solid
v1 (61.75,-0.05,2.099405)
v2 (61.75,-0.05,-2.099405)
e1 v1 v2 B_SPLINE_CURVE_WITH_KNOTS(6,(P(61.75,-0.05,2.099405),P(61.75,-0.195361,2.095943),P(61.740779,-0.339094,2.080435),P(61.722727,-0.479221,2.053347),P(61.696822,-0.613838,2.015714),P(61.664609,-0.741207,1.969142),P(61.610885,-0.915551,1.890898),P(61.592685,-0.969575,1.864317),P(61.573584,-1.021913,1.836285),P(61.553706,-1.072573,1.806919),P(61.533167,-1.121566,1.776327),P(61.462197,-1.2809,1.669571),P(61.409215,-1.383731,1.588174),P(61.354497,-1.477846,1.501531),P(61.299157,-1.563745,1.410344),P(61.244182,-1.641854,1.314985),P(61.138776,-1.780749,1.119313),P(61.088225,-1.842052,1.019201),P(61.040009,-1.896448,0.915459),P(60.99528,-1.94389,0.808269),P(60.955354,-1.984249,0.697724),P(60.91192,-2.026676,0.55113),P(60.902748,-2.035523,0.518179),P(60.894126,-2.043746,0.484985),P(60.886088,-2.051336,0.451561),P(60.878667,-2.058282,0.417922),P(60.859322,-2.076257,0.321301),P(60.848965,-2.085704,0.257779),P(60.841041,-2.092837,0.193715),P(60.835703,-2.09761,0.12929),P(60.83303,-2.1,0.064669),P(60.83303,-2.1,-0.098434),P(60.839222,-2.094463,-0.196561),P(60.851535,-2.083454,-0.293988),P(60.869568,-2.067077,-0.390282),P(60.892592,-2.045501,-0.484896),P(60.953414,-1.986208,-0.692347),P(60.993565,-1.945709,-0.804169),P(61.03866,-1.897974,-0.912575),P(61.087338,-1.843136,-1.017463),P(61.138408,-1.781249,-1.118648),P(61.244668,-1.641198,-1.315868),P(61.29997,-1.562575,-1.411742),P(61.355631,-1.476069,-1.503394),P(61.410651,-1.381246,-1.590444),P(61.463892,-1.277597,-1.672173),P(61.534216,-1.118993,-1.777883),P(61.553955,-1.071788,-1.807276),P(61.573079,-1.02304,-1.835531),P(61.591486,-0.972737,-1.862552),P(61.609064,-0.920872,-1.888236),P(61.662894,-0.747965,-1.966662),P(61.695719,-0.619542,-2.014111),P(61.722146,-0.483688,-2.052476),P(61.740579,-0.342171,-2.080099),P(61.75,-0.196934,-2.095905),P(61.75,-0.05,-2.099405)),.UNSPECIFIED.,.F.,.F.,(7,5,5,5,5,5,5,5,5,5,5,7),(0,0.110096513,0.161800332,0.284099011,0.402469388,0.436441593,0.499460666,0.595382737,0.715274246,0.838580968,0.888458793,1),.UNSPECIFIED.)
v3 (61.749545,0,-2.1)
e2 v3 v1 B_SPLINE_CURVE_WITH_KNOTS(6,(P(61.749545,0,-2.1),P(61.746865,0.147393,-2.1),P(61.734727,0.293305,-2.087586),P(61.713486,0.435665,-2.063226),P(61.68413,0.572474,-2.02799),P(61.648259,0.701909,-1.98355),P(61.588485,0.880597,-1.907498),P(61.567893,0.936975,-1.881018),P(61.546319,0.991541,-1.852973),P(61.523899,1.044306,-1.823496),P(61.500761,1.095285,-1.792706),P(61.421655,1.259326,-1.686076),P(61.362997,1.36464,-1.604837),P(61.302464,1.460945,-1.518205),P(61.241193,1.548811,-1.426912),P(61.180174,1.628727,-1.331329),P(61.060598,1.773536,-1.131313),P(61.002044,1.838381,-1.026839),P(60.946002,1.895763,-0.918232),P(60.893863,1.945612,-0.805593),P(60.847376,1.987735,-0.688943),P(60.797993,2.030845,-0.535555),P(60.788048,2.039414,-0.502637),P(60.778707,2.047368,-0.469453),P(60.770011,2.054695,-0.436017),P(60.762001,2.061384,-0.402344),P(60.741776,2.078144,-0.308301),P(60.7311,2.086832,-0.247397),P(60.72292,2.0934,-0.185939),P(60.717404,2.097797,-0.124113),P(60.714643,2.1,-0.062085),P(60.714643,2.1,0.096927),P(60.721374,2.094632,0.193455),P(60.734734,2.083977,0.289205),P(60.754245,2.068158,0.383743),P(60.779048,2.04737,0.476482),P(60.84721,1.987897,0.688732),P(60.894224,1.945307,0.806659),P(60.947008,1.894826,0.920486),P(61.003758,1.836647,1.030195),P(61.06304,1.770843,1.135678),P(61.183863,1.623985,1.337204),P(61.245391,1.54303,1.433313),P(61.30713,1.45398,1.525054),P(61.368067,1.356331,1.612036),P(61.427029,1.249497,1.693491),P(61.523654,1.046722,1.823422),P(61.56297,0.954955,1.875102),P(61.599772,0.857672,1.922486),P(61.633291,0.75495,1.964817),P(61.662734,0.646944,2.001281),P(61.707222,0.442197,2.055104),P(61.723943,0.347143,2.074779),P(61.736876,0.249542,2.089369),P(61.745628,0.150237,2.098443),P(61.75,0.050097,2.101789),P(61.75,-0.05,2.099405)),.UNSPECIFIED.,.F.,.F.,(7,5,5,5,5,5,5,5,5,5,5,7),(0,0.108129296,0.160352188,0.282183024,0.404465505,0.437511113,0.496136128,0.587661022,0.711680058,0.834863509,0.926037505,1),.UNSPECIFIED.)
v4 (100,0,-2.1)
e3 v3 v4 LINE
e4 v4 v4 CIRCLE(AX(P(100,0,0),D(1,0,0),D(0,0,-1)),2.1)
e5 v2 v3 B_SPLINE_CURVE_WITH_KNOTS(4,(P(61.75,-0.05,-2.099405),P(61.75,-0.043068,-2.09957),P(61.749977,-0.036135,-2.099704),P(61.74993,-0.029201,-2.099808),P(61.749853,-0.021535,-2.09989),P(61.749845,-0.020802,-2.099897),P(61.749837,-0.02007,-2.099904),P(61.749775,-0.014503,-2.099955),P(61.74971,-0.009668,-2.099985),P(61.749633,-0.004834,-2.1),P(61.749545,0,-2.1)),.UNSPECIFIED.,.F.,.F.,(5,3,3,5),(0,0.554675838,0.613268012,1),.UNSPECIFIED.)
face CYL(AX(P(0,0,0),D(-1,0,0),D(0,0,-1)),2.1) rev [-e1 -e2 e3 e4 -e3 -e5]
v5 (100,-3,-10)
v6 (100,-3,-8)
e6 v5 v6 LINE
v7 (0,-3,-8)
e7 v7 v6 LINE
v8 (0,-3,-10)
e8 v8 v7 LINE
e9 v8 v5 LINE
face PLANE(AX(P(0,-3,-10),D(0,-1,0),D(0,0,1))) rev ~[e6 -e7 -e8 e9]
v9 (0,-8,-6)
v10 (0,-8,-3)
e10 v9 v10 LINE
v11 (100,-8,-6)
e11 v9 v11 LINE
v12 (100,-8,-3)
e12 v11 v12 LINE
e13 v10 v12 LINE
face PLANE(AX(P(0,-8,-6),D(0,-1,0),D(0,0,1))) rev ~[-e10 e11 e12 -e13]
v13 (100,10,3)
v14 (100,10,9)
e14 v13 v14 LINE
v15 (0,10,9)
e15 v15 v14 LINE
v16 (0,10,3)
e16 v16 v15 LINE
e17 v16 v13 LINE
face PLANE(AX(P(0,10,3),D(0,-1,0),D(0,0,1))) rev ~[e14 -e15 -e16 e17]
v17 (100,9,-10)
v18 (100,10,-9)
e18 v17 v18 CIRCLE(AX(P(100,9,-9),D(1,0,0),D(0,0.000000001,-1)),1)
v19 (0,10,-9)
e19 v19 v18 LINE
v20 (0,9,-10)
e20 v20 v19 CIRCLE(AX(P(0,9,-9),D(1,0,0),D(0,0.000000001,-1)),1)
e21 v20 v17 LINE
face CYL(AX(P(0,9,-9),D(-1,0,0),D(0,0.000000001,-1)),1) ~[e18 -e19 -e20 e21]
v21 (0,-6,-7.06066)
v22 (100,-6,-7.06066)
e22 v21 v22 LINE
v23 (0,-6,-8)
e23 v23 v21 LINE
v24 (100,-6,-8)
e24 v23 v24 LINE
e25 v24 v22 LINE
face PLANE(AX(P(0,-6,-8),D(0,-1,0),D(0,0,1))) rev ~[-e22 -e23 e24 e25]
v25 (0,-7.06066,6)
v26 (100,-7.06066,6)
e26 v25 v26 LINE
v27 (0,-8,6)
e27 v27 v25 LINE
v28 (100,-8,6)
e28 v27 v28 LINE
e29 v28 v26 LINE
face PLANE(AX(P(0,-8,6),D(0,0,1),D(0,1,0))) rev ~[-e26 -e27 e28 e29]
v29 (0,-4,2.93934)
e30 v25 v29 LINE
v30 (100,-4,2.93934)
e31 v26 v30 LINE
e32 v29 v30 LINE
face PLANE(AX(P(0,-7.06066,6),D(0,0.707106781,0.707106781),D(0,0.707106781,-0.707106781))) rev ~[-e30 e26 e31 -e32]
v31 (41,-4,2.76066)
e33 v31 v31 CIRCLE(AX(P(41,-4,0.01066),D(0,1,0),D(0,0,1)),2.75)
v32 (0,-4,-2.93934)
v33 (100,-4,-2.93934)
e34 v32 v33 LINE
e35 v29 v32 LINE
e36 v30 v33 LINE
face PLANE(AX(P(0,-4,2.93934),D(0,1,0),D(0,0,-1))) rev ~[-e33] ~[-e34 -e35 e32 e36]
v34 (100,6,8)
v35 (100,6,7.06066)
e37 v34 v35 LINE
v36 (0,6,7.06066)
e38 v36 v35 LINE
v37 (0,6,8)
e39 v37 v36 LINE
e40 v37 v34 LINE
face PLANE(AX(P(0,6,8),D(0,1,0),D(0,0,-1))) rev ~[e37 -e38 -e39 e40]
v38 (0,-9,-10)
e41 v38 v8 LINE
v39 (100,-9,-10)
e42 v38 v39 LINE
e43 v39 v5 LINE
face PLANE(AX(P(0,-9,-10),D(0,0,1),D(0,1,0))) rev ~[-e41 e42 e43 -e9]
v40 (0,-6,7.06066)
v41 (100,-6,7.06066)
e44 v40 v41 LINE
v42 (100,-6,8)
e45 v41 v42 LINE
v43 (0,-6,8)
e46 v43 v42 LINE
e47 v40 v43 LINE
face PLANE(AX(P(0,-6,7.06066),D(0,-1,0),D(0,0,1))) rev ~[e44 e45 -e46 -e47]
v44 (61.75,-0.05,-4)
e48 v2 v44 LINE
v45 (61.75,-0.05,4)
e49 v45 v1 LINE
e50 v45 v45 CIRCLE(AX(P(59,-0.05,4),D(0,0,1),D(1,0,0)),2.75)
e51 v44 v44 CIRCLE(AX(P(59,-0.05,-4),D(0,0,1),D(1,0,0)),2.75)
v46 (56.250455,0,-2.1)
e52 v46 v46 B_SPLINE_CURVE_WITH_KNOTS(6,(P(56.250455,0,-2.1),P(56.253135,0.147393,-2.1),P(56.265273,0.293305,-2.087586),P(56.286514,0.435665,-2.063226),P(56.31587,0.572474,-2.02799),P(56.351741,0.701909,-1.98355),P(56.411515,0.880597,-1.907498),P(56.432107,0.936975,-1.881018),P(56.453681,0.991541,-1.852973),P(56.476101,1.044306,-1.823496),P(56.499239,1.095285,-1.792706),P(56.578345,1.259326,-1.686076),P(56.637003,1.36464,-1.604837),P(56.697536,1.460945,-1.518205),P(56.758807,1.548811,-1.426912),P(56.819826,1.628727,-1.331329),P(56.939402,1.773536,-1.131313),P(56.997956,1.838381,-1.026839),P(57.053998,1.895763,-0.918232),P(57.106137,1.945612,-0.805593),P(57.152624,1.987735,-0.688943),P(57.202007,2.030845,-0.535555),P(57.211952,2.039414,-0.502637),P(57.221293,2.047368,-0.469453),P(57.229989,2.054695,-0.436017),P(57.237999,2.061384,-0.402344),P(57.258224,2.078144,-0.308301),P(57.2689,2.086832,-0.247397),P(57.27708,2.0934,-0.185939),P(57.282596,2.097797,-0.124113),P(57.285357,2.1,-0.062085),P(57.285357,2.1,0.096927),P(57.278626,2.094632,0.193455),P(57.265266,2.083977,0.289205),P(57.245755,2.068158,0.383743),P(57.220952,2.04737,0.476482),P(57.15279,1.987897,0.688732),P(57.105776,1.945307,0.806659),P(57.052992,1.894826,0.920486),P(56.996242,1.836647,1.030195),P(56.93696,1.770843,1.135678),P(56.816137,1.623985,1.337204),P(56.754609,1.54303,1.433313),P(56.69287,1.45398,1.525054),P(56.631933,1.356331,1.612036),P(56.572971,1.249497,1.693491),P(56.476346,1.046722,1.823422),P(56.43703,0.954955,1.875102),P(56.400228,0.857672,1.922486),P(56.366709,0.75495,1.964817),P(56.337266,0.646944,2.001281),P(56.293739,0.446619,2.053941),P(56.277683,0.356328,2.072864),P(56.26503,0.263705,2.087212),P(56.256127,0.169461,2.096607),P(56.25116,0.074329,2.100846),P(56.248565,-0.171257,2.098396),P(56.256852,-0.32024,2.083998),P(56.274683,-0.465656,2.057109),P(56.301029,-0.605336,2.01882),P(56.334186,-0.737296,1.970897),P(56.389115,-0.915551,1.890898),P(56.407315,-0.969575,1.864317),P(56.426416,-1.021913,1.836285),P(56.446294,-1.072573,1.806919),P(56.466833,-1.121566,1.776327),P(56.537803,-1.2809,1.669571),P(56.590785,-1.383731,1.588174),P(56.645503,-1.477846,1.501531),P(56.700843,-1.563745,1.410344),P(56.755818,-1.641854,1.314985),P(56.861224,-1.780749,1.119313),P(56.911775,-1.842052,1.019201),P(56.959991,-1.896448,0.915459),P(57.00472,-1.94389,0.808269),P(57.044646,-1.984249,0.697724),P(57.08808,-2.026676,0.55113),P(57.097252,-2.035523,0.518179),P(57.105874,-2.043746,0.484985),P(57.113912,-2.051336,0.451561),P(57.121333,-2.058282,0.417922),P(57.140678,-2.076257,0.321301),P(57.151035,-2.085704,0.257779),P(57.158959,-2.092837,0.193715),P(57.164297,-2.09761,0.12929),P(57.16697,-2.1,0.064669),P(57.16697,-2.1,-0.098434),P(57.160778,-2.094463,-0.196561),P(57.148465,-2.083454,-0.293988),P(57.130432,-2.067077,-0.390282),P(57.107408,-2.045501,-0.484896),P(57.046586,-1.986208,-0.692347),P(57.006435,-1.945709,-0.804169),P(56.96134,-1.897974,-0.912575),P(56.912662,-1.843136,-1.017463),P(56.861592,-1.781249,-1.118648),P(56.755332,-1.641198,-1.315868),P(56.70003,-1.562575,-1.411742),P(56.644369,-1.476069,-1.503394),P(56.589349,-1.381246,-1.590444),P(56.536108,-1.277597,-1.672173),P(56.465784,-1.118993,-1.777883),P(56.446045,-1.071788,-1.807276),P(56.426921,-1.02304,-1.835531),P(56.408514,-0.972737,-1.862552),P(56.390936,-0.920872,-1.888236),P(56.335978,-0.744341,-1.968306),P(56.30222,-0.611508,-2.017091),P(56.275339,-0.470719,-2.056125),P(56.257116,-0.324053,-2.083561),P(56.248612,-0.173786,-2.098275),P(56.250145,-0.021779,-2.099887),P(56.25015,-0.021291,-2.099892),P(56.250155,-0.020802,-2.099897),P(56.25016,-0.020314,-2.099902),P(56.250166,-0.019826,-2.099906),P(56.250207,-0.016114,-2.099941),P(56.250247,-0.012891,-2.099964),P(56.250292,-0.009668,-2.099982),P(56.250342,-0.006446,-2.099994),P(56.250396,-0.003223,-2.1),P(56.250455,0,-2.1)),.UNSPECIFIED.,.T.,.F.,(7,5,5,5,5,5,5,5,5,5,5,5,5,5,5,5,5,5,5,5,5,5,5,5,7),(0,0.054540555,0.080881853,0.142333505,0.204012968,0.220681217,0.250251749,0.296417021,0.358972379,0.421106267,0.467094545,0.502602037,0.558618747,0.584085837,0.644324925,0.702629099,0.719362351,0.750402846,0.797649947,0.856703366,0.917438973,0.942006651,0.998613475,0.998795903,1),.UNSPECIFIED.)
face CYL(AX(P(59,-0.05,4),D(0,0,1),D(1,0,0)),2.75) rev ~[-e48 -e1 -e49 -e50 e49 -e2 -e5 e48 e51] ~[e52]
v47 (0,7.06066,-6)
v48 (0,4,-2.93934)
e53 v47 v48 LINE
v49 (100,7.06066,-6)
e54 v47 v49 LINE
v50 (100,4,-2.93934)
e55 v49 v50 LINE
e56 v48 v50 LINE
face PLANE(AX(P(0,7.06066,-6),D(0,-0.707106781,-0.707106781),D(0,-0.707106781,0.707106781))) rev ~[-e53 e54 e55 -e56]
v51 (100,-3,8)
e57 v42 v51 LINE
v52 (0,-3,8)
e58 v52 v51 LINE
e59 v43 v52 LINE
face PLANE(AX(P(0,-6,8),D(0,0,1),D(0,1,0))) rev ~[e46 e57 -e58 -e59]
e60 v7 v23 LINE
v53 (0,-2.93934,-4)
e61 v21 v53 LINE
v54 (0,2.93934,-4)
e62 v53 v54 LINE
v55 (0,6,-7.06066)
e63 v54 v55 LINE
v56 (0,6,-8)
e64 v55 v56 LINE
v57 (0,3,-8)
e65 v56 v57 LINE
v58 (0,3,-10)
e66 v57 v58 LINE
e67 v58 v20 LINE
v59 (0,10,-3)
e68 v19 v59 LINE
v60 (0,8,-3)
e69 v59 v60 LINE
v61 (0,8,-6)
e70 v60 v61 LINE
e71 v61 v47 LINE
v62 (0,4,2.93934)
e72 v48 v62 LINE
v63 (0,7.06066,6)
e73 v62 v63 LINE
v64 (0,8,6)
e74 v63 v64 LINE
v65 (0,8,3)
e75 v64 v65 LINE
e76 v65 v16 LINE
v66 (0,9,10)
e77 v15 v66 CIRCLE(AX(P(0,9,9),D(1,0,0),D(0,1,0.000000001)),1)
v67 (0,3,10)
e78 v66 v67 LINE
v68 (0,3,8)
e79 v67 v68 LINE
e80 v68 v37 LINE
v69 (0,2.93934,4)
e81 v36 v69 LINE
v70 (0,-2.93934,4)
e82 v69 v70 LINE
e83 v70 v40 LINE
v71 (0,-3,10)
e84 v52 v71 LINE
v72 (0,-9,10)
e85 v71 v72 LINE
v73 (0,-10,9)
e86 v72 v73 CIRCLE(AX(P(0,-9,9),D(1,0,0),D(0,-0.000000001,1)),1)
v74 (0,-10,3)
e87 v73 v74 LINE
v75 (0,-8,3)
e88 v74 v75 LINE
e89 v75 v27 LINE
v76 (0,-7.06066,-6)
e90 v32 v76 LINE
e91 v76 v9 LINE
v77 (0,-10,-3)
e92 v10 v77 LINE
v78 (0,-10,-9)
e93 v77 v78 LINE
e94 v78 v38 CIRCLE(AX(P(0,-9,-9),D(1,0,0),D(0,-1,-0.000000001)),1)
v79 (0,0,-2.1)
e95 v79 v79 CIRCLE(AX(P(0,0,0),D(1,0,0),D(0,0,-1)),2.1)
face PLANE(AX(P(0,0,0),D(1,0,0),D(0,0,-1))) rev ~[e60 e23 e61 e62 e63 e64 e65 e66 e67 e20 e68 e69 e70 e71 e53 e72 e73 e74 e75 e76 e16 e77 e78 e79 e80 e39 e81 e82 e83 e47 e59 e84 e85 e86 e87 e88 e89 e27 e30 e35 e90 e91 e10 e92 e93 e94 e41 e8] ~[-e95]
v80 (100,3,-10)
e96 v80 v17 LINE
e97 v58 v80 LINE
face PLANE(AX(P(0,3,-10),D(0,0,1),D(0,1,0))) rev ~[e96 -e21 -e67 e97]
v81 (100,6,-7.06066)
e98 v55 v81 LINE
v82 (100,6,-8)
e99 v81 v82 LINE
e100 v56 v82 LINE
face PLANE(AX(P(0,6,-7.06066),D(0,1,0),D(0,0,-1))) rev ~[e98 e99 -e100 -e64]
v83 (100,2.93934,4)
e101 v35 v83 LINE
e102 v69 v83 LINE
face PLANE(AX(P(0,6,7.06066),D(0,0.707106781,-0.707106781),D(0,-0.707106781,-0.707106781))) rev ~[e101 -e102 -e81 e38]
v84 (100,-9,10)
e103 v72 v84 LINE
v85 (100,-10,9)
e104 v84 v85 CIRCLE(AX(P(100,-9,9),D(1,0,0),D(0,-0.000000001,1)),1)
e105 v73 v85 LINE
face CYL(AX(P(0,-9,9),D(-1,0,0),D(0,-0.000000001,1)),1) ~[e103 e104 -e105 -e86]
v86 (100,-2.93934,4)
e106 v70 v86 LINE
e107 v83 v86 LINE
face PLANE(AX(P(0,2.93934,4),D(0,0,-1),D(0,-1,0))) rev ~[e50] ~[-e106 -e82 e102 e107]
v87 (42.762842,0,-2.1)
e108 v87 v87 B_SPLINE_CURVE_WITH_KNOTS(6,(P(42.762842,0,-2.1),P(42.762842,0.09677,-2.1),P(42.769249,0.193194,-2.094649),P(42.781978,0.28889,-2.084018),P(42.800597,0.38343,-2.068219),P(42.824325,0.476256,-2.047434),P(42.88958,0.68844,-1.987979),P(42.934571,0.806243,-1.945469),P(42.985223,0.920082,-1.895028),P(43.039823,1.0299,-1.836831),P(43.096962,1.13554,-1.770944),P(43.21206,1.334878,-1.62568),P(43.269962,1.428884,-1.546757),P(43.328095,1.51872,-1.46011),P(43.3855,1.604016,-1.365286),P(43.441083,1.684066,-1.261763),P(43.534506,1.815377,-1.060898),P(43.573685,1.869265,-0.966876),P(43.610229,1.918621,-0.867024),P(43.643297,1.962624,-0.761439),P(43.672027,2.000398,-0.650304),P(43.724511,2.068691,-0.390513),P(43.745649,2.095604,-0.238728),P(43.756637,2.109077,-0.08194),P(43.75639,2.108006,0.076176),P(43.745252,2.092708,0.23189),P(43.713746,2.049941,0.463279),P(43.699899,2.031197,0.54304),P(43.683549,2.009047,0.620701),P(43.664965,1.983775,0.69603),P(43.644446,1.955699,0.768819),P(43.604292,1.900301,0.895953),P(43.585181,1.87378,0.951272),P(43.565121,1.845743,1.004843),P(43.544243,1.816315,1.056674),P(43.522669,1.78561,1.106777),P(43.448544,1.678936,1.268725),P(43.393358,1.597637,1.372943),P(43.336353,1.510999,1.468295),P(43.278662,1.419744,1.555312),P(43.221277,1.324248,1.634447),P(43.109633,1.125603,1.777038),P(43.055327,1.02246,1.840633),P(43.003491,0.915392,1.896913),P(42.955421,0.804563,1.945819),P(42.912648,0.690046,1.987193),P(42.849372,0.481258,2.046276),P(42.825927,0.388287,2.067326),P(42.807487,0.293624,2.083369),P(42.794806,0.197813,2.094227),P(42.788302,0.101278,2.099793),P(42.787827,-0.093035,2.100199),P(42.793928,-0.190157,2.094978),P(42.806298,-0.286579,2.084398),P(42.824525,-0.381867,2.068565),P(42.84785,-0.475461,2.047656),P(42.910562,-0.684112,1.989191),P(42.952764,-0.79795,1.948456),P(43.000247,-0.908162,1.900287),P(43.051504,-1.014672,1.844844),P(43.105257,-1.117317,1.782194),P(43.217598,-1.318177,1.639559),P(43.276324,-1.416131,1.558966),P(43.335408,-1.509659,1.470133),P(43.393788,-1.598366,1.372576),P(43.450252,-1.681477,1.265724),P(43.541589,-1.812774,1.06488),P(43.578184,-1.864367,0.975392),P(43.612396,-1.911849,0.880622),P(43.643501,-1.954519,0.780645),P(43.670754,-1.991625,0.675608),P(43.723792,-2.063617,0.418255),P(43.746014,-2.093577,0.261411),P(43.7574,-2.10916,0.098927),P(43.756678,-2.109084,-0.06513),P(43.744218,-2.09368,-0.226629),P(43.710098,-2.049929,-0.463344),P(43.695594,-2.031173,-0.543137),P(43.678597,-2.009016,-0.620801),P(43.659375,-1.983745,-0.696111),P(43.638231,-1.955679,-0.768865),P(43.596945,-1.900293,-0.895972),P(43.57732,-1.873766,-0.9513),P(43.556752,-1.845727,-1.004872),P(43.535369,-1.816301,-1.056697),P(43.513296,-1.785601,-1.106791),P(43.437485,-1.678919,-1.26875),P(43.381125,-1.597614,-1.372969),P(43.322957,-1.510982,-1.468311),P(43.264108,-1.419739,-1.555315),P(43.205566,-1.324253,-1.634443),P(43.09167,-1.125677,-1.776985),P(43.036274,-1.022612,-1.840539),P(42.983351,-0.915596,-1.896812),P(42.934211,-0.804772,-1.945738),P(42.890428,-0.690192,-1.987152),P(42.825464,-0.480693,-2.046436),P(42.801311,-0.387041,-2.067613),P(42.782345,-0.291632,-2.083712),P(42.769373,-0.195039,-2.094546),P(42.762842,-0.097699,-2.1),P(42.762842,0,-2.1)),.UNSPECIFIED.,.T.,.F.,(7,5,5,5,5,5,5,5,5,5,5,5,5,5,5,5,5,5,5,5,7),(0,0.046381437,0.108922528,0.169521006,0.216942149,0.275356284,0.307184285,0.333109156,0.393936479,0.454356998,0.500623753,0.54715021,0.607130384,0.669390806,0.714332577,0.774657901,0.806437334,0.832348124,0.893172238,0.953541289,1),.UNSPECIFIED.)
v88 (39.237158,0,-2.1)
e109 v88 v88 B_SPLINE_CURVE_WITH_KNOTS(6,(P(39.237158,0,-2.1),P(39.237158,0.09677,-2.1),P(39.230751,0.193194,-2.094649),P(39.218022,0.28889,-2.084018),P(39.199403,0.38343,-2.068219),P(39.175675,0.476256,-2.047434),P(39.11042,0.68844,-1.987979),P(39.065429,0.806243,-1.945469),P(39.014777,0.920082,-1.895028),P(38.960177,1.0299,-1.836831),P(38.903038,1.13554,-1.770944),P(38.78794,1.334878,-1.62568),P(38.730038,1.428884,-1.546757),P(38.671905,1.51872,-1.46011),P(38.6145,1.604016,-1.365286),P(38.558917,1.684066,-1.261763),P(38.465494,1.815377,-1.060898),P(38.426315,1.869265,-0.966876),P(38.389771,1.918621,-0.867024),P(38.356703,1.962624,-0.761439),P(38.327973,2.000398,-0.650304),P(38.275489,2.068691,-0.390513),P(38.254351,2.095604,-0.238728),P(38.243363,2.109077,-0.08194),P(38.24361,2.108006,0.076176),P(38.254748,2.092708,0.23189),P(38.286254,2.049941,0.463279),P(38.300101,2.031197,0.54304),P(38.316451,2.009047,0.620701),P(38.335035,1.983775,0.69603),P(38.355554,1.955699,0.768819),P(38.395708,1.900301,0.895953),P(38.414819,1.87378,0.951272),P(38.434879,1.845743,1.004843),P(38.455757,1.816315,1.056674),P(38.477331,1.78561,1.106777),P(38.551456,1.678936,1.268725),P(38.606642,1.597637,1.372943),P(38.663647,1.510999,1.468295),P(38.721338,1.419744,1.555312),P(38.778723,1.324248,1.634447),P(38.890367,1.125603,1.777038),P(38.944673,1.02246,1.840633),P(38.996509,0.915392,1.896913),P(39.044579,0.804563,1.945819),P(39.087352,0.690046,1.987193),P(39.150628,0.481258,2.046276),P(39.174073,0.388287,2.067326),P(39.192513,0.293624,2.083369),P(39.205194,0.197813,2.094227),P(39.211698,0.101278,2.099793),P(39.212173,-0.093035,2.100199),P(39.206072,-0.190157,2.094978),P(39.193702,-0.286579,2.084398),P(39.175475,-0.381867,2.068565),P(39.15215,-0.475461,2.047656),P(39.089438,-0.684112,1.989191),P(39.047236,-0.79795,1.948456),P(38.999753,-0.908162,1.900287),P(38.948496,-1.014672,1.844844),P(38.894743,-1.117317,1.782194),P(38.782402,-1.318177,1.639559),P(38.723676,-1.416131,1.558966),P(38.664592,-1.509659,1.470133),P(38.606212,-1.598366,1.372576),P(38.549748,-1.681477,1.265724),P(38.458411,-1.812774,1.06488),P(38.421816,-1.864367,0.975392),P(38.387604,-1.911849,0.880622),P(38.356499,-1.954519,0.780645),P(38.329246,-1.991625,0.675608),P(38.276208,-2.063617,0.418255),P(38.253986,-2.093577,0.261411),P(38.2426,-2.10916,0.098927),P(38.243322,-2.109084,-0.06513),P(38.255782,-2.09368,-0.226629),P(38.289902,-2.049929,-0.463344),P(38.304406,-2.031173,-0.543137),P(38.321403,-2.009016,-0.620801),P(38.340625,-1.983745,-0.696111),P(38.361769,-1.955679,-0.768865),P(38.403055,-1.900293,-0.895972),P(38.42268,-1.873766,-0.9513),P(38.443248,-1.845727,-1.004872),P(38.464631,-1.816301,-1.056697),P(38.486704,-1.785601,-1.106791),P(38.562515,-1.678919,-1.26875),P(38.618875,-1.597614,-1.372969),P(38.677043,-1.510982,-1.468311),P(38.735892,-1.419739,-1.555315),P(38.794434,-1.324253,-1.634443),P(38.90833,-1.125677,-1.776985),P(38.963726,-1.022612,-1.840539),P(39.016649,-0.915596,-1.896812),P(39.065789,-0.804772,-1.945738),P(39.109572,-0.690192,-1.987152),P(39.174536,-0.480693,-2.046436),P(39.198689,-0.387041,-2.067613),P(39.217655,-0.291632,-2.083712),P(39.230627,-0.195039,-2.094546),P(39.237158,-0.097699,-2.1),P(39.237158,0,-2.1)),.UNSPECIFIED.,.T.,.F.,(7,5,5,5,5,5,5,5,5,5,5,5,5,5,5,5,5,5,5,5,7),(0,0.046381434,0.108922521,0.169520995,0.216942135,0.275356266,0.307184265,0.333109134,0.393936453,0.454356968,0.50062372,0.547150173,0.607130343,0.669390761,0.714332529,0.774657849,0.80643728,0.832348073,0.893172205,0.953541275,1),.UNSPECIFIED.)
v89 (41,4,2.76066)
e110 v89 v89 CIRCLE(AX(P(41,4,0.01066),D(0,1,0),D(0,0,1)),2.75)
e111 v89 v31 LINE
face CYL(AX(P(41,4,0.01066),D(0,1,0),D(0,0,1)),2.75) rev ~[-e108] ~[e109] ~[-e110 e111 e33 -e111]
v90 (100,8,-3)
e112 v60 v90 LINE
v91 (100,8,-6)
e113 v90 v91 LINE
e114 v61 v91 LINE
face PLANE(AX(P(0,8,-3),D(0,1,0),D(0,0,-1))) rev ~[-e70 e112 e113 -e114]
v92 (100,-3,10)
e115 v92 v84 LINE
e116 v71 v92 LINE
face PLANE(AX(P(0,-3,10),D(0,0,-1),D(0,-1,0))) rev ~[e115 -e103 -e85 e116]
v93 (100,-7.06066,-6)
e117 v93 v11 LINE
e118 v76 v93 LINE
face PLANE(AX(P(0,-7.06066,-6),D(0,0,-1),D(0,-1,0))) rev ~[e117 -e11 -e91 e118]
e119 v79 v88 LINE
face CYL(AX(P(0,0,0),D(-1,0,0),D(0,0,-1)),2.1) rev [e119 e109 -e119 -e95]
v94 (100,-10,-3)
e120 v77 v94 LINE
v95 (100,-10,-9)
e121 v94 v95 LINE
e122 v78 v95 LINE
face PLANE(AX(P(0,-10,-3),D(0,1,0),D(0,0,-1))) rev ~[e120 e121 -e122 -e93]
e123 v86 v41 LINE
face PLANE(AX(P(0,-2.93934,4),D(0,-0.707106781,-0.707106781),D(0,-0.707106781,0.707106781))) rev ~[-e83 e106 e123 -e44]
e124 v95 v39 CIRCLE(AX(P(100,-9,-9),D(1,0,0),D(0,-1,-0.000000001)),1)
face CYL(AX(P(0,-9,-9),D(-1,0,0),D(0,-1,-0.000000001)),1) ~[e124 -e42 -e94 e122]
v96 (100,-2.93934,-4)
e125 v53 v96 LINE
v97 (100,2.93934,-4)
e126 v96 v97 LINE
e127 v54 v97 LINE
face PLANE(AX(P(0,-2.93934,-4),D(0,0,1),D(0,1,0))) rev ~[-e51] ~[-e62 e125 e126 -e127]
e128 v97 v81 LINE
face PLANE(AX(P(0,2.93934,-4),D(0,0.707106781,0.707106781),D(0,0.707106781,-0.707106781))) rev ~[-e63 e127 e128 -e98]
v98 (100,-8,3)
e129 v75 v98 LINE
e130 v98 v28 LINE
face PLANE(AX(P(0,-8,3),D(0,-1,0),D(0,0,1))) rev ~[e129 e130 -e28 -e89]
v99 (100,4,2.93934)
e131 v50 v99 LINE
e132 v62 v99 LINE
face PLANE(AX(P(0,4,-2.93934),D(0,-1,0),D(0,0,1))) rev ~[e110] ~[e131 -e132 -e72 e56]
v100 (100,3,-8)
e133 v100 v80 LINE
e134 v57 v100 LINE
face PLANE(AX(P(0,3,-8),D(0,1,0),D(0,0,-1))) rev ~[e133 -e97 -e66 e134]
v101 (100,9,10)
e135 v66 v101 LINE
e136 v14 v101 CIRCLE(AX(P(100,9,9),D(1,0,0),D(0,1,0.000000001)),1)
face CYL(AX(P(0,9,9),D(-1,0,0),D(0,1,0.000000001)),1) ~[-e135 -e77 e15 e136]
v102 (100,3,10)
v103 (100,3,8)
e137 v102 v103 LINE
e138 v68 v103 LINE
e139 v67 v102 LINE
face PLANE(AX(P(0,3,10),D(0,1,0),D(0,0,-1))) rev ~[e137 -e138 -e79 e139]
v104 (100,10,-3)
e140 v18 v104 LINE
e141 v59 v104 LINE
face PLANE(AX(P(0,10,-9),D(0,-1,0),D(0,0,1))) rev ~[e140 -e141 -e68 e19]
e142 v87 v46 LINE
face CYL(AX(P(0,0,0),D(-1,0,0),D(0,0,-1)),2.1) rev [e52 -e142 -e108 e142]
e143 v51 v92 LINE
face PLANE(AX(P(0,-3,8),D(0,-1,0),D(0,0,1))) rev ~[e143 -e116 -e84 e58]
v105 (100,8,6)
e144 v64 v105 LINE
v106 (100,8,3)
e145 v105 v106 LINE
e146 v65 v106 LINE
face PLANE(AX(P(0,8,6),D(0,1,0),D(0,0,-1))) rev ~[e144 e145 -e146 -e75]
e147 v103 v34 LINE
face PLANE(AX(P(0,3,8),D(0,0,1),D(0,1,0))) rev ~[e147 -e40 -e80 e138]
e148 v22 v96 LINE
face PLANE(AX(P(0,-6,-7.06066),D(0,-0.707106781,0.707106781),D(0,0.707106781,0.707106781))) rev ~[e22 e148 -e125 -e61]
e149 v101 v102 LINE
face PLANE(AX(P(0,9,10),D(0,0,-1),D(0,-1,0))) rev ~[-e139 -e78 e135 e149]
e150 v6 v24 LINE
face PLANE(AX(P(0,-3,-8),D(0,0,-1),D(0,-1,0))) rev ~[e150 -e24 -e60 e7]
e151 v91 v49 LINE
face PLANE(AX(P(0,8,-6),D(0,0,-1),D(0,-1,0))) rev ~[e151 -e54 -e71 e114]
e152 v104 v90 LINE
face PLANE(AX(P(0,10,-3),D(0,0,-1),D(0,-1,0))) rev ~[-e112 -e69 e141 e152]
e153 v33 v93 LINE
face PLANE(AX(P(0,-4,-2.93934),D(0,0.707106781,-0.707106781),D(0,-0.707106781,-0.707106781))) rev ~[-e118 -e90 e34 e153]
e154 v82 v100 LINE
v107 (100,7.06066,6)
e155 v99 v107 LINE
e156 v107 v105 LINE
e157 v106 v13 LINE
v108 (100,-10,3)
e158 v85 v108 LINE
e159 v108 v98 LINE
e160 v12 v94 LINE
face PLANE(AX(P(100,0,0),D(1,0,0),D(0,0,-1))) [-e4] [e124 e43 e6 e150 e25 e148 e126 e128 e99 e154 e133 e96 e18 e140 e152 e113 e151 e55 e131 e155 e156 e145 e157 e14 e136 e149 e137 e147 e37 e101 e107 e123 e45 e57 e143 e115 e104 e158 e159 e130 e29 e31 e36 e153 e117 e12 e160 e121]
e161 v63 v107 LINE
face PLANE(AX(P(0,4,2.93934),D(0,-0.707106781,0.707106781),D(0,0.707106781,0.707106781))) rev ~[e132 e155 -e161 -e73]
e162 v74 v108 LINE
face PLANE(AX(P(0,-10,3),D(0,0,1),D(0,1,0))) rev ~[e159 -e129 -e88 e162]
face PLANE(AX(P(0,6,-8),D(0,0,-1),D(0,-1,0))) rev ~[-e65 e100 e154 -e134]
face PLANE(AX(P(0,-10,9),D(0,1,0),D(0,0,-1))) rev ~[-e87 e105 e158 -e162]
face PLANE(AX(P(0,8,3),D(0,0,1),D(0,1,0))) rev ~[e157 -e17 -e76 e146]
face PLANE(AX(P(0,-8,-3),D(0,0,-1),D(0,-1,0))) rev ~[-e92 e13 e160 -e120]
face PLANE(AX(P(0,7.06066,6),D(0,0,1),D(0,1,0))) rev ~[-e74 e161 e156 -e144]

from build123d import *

# Parameters (mm, degrees)
SKETCH1_R           = 2.1
BOSS_EXTRUDE1_DEPTH = 100
SKETCH_1_R          = 2.75
CUT_EXTRUDE_1_DEPTH = 102.469207152
SKETCH_2_R          = 2.75
CUT_EXTRUDE_2_DEPTH = 102.46920725


with BuildPart() as part:
    # Sketch1 → Boss-Extrude1 (new body)
    with BuildSketch(Plane(origin=(0, 0, 0), x_dir=(0, 0, -1), z_dir=(1, 0, 0))):
        with BuildLine():
            Line((-10, 9), (-10, 3))
            Line((-10, 3), (-8, 3))
            Line((-8, 3), (-8, 6))
            Line((-8, 6), (-7.060660172, 6))
            Line((-7.060660172, 6), (-4, 2.939339828))
            Line((-4, 2.939339828), (-4, -2.939339828))
            Line((-4, -2.939339828), (-7.060660172, -6))
            Line((-7.060660172, -6), (-8, -6))
            Line((-8, -6), (-8, -3))
            Line((-8, -3), (-10, -3))
            Line((-10, -3), (-10, -9))
            ThreePointArc((-10, -9), (-9.707106781, -9.707106781), (-9, -10))
            Line((-9, -10), (-3, -10))
            Line((-3, -10), (-3, -8))
            Line((-3, -8), (-6, -8))
            Line((-6, -8), (-6, -7.060660172))
            Line((-6, -7.060660172), (-2.939339828, -4))
            Line((-2.939339828, -4), (2.939339828, -4))
            Line((2.939339828, -4), (6, -7.060660172))
            Line((6, -7.060660172), (6, -8))
            Line((6, -8), (3, -8))
            Line((3, -8), (3, -10))
            Line((3, -10), (9, -10))
            ThreePointArc((9, -10), (9.707106781, -9.707106781), (10, -9))
            Line((10, -9), (10, -3))
            Line((10, -3), (8, -3))
            Line((8, -3), (8, -6))
            Line((8, -6), (7.060660172, -6))
            Line((7.060660172, -6), (4, -2.939339828))
            Line((4, -2.939339828), (4, 2.939339828))
            Line((4, 2.939339828), (7.060660172, 6))
            Line((7.060660172, 6), (8, 6))
            Line((8, 6), (8, 3))
            Line((8, 3), (10, 3))
            Line((10, 3), (10, 9))
            ThreePointArc((10, 9), (9.707106781, 9.707106781), (9, 10))
            Line((9, 10), (3, 10))
            Line((3, 10), (3, 8))
            Line((3, 8), (6, 8))
            Line((6, 8), (6, 7.060660172))
            Line((6, 7.060660172), (2.939339828, 4))
            Line((2.939339828, 4), (-2.939339828, 4))
            Line((-2.939339828, 4), (-6, 7.060660172))
            Line((-6, 7.060660172), (-6, 8))
            Line((-6, 8), (-3, 8))
            Line((-3, 8), (-3, 10))
            Line((-3, 10), (-9, 10))
            ThreePointArc((-9, 10), (-9.707106781, 9.707106781), (-10, 9))
        make_face()
        Circle(SKETCH1_R, mode=Mode.SUBTRACT)
    extrude(amount=BOSS_EXTRUDE1_DEPTH)

    # 草图1 → 切除-拉伸1 (cut, through all)
    with BuildSketch(Plane(origin=(0, 4, 0), x_dir=(1, 0, 0), z_dir=(0, 1, 0))):
        with Locations((41, -0.010660172)):
            Circle(SKETCH_1_R)
    extrude(amount=-CUT_EXTRUDE_1_DEPTH, mode=Mode.SUBTRACT)

    # 草图2 → 切除-拉伸2 (cut, through all)
    with BuildSketch(Plane.XY.offset(4)):
        with Locations((59, -0.05)):
            Circle(SKETCH_2_R)
    extrude(amount=-CUT_EXTRUDE_2_DEPTH, mode=Mode.SUBTRACT)


solid = part.part
